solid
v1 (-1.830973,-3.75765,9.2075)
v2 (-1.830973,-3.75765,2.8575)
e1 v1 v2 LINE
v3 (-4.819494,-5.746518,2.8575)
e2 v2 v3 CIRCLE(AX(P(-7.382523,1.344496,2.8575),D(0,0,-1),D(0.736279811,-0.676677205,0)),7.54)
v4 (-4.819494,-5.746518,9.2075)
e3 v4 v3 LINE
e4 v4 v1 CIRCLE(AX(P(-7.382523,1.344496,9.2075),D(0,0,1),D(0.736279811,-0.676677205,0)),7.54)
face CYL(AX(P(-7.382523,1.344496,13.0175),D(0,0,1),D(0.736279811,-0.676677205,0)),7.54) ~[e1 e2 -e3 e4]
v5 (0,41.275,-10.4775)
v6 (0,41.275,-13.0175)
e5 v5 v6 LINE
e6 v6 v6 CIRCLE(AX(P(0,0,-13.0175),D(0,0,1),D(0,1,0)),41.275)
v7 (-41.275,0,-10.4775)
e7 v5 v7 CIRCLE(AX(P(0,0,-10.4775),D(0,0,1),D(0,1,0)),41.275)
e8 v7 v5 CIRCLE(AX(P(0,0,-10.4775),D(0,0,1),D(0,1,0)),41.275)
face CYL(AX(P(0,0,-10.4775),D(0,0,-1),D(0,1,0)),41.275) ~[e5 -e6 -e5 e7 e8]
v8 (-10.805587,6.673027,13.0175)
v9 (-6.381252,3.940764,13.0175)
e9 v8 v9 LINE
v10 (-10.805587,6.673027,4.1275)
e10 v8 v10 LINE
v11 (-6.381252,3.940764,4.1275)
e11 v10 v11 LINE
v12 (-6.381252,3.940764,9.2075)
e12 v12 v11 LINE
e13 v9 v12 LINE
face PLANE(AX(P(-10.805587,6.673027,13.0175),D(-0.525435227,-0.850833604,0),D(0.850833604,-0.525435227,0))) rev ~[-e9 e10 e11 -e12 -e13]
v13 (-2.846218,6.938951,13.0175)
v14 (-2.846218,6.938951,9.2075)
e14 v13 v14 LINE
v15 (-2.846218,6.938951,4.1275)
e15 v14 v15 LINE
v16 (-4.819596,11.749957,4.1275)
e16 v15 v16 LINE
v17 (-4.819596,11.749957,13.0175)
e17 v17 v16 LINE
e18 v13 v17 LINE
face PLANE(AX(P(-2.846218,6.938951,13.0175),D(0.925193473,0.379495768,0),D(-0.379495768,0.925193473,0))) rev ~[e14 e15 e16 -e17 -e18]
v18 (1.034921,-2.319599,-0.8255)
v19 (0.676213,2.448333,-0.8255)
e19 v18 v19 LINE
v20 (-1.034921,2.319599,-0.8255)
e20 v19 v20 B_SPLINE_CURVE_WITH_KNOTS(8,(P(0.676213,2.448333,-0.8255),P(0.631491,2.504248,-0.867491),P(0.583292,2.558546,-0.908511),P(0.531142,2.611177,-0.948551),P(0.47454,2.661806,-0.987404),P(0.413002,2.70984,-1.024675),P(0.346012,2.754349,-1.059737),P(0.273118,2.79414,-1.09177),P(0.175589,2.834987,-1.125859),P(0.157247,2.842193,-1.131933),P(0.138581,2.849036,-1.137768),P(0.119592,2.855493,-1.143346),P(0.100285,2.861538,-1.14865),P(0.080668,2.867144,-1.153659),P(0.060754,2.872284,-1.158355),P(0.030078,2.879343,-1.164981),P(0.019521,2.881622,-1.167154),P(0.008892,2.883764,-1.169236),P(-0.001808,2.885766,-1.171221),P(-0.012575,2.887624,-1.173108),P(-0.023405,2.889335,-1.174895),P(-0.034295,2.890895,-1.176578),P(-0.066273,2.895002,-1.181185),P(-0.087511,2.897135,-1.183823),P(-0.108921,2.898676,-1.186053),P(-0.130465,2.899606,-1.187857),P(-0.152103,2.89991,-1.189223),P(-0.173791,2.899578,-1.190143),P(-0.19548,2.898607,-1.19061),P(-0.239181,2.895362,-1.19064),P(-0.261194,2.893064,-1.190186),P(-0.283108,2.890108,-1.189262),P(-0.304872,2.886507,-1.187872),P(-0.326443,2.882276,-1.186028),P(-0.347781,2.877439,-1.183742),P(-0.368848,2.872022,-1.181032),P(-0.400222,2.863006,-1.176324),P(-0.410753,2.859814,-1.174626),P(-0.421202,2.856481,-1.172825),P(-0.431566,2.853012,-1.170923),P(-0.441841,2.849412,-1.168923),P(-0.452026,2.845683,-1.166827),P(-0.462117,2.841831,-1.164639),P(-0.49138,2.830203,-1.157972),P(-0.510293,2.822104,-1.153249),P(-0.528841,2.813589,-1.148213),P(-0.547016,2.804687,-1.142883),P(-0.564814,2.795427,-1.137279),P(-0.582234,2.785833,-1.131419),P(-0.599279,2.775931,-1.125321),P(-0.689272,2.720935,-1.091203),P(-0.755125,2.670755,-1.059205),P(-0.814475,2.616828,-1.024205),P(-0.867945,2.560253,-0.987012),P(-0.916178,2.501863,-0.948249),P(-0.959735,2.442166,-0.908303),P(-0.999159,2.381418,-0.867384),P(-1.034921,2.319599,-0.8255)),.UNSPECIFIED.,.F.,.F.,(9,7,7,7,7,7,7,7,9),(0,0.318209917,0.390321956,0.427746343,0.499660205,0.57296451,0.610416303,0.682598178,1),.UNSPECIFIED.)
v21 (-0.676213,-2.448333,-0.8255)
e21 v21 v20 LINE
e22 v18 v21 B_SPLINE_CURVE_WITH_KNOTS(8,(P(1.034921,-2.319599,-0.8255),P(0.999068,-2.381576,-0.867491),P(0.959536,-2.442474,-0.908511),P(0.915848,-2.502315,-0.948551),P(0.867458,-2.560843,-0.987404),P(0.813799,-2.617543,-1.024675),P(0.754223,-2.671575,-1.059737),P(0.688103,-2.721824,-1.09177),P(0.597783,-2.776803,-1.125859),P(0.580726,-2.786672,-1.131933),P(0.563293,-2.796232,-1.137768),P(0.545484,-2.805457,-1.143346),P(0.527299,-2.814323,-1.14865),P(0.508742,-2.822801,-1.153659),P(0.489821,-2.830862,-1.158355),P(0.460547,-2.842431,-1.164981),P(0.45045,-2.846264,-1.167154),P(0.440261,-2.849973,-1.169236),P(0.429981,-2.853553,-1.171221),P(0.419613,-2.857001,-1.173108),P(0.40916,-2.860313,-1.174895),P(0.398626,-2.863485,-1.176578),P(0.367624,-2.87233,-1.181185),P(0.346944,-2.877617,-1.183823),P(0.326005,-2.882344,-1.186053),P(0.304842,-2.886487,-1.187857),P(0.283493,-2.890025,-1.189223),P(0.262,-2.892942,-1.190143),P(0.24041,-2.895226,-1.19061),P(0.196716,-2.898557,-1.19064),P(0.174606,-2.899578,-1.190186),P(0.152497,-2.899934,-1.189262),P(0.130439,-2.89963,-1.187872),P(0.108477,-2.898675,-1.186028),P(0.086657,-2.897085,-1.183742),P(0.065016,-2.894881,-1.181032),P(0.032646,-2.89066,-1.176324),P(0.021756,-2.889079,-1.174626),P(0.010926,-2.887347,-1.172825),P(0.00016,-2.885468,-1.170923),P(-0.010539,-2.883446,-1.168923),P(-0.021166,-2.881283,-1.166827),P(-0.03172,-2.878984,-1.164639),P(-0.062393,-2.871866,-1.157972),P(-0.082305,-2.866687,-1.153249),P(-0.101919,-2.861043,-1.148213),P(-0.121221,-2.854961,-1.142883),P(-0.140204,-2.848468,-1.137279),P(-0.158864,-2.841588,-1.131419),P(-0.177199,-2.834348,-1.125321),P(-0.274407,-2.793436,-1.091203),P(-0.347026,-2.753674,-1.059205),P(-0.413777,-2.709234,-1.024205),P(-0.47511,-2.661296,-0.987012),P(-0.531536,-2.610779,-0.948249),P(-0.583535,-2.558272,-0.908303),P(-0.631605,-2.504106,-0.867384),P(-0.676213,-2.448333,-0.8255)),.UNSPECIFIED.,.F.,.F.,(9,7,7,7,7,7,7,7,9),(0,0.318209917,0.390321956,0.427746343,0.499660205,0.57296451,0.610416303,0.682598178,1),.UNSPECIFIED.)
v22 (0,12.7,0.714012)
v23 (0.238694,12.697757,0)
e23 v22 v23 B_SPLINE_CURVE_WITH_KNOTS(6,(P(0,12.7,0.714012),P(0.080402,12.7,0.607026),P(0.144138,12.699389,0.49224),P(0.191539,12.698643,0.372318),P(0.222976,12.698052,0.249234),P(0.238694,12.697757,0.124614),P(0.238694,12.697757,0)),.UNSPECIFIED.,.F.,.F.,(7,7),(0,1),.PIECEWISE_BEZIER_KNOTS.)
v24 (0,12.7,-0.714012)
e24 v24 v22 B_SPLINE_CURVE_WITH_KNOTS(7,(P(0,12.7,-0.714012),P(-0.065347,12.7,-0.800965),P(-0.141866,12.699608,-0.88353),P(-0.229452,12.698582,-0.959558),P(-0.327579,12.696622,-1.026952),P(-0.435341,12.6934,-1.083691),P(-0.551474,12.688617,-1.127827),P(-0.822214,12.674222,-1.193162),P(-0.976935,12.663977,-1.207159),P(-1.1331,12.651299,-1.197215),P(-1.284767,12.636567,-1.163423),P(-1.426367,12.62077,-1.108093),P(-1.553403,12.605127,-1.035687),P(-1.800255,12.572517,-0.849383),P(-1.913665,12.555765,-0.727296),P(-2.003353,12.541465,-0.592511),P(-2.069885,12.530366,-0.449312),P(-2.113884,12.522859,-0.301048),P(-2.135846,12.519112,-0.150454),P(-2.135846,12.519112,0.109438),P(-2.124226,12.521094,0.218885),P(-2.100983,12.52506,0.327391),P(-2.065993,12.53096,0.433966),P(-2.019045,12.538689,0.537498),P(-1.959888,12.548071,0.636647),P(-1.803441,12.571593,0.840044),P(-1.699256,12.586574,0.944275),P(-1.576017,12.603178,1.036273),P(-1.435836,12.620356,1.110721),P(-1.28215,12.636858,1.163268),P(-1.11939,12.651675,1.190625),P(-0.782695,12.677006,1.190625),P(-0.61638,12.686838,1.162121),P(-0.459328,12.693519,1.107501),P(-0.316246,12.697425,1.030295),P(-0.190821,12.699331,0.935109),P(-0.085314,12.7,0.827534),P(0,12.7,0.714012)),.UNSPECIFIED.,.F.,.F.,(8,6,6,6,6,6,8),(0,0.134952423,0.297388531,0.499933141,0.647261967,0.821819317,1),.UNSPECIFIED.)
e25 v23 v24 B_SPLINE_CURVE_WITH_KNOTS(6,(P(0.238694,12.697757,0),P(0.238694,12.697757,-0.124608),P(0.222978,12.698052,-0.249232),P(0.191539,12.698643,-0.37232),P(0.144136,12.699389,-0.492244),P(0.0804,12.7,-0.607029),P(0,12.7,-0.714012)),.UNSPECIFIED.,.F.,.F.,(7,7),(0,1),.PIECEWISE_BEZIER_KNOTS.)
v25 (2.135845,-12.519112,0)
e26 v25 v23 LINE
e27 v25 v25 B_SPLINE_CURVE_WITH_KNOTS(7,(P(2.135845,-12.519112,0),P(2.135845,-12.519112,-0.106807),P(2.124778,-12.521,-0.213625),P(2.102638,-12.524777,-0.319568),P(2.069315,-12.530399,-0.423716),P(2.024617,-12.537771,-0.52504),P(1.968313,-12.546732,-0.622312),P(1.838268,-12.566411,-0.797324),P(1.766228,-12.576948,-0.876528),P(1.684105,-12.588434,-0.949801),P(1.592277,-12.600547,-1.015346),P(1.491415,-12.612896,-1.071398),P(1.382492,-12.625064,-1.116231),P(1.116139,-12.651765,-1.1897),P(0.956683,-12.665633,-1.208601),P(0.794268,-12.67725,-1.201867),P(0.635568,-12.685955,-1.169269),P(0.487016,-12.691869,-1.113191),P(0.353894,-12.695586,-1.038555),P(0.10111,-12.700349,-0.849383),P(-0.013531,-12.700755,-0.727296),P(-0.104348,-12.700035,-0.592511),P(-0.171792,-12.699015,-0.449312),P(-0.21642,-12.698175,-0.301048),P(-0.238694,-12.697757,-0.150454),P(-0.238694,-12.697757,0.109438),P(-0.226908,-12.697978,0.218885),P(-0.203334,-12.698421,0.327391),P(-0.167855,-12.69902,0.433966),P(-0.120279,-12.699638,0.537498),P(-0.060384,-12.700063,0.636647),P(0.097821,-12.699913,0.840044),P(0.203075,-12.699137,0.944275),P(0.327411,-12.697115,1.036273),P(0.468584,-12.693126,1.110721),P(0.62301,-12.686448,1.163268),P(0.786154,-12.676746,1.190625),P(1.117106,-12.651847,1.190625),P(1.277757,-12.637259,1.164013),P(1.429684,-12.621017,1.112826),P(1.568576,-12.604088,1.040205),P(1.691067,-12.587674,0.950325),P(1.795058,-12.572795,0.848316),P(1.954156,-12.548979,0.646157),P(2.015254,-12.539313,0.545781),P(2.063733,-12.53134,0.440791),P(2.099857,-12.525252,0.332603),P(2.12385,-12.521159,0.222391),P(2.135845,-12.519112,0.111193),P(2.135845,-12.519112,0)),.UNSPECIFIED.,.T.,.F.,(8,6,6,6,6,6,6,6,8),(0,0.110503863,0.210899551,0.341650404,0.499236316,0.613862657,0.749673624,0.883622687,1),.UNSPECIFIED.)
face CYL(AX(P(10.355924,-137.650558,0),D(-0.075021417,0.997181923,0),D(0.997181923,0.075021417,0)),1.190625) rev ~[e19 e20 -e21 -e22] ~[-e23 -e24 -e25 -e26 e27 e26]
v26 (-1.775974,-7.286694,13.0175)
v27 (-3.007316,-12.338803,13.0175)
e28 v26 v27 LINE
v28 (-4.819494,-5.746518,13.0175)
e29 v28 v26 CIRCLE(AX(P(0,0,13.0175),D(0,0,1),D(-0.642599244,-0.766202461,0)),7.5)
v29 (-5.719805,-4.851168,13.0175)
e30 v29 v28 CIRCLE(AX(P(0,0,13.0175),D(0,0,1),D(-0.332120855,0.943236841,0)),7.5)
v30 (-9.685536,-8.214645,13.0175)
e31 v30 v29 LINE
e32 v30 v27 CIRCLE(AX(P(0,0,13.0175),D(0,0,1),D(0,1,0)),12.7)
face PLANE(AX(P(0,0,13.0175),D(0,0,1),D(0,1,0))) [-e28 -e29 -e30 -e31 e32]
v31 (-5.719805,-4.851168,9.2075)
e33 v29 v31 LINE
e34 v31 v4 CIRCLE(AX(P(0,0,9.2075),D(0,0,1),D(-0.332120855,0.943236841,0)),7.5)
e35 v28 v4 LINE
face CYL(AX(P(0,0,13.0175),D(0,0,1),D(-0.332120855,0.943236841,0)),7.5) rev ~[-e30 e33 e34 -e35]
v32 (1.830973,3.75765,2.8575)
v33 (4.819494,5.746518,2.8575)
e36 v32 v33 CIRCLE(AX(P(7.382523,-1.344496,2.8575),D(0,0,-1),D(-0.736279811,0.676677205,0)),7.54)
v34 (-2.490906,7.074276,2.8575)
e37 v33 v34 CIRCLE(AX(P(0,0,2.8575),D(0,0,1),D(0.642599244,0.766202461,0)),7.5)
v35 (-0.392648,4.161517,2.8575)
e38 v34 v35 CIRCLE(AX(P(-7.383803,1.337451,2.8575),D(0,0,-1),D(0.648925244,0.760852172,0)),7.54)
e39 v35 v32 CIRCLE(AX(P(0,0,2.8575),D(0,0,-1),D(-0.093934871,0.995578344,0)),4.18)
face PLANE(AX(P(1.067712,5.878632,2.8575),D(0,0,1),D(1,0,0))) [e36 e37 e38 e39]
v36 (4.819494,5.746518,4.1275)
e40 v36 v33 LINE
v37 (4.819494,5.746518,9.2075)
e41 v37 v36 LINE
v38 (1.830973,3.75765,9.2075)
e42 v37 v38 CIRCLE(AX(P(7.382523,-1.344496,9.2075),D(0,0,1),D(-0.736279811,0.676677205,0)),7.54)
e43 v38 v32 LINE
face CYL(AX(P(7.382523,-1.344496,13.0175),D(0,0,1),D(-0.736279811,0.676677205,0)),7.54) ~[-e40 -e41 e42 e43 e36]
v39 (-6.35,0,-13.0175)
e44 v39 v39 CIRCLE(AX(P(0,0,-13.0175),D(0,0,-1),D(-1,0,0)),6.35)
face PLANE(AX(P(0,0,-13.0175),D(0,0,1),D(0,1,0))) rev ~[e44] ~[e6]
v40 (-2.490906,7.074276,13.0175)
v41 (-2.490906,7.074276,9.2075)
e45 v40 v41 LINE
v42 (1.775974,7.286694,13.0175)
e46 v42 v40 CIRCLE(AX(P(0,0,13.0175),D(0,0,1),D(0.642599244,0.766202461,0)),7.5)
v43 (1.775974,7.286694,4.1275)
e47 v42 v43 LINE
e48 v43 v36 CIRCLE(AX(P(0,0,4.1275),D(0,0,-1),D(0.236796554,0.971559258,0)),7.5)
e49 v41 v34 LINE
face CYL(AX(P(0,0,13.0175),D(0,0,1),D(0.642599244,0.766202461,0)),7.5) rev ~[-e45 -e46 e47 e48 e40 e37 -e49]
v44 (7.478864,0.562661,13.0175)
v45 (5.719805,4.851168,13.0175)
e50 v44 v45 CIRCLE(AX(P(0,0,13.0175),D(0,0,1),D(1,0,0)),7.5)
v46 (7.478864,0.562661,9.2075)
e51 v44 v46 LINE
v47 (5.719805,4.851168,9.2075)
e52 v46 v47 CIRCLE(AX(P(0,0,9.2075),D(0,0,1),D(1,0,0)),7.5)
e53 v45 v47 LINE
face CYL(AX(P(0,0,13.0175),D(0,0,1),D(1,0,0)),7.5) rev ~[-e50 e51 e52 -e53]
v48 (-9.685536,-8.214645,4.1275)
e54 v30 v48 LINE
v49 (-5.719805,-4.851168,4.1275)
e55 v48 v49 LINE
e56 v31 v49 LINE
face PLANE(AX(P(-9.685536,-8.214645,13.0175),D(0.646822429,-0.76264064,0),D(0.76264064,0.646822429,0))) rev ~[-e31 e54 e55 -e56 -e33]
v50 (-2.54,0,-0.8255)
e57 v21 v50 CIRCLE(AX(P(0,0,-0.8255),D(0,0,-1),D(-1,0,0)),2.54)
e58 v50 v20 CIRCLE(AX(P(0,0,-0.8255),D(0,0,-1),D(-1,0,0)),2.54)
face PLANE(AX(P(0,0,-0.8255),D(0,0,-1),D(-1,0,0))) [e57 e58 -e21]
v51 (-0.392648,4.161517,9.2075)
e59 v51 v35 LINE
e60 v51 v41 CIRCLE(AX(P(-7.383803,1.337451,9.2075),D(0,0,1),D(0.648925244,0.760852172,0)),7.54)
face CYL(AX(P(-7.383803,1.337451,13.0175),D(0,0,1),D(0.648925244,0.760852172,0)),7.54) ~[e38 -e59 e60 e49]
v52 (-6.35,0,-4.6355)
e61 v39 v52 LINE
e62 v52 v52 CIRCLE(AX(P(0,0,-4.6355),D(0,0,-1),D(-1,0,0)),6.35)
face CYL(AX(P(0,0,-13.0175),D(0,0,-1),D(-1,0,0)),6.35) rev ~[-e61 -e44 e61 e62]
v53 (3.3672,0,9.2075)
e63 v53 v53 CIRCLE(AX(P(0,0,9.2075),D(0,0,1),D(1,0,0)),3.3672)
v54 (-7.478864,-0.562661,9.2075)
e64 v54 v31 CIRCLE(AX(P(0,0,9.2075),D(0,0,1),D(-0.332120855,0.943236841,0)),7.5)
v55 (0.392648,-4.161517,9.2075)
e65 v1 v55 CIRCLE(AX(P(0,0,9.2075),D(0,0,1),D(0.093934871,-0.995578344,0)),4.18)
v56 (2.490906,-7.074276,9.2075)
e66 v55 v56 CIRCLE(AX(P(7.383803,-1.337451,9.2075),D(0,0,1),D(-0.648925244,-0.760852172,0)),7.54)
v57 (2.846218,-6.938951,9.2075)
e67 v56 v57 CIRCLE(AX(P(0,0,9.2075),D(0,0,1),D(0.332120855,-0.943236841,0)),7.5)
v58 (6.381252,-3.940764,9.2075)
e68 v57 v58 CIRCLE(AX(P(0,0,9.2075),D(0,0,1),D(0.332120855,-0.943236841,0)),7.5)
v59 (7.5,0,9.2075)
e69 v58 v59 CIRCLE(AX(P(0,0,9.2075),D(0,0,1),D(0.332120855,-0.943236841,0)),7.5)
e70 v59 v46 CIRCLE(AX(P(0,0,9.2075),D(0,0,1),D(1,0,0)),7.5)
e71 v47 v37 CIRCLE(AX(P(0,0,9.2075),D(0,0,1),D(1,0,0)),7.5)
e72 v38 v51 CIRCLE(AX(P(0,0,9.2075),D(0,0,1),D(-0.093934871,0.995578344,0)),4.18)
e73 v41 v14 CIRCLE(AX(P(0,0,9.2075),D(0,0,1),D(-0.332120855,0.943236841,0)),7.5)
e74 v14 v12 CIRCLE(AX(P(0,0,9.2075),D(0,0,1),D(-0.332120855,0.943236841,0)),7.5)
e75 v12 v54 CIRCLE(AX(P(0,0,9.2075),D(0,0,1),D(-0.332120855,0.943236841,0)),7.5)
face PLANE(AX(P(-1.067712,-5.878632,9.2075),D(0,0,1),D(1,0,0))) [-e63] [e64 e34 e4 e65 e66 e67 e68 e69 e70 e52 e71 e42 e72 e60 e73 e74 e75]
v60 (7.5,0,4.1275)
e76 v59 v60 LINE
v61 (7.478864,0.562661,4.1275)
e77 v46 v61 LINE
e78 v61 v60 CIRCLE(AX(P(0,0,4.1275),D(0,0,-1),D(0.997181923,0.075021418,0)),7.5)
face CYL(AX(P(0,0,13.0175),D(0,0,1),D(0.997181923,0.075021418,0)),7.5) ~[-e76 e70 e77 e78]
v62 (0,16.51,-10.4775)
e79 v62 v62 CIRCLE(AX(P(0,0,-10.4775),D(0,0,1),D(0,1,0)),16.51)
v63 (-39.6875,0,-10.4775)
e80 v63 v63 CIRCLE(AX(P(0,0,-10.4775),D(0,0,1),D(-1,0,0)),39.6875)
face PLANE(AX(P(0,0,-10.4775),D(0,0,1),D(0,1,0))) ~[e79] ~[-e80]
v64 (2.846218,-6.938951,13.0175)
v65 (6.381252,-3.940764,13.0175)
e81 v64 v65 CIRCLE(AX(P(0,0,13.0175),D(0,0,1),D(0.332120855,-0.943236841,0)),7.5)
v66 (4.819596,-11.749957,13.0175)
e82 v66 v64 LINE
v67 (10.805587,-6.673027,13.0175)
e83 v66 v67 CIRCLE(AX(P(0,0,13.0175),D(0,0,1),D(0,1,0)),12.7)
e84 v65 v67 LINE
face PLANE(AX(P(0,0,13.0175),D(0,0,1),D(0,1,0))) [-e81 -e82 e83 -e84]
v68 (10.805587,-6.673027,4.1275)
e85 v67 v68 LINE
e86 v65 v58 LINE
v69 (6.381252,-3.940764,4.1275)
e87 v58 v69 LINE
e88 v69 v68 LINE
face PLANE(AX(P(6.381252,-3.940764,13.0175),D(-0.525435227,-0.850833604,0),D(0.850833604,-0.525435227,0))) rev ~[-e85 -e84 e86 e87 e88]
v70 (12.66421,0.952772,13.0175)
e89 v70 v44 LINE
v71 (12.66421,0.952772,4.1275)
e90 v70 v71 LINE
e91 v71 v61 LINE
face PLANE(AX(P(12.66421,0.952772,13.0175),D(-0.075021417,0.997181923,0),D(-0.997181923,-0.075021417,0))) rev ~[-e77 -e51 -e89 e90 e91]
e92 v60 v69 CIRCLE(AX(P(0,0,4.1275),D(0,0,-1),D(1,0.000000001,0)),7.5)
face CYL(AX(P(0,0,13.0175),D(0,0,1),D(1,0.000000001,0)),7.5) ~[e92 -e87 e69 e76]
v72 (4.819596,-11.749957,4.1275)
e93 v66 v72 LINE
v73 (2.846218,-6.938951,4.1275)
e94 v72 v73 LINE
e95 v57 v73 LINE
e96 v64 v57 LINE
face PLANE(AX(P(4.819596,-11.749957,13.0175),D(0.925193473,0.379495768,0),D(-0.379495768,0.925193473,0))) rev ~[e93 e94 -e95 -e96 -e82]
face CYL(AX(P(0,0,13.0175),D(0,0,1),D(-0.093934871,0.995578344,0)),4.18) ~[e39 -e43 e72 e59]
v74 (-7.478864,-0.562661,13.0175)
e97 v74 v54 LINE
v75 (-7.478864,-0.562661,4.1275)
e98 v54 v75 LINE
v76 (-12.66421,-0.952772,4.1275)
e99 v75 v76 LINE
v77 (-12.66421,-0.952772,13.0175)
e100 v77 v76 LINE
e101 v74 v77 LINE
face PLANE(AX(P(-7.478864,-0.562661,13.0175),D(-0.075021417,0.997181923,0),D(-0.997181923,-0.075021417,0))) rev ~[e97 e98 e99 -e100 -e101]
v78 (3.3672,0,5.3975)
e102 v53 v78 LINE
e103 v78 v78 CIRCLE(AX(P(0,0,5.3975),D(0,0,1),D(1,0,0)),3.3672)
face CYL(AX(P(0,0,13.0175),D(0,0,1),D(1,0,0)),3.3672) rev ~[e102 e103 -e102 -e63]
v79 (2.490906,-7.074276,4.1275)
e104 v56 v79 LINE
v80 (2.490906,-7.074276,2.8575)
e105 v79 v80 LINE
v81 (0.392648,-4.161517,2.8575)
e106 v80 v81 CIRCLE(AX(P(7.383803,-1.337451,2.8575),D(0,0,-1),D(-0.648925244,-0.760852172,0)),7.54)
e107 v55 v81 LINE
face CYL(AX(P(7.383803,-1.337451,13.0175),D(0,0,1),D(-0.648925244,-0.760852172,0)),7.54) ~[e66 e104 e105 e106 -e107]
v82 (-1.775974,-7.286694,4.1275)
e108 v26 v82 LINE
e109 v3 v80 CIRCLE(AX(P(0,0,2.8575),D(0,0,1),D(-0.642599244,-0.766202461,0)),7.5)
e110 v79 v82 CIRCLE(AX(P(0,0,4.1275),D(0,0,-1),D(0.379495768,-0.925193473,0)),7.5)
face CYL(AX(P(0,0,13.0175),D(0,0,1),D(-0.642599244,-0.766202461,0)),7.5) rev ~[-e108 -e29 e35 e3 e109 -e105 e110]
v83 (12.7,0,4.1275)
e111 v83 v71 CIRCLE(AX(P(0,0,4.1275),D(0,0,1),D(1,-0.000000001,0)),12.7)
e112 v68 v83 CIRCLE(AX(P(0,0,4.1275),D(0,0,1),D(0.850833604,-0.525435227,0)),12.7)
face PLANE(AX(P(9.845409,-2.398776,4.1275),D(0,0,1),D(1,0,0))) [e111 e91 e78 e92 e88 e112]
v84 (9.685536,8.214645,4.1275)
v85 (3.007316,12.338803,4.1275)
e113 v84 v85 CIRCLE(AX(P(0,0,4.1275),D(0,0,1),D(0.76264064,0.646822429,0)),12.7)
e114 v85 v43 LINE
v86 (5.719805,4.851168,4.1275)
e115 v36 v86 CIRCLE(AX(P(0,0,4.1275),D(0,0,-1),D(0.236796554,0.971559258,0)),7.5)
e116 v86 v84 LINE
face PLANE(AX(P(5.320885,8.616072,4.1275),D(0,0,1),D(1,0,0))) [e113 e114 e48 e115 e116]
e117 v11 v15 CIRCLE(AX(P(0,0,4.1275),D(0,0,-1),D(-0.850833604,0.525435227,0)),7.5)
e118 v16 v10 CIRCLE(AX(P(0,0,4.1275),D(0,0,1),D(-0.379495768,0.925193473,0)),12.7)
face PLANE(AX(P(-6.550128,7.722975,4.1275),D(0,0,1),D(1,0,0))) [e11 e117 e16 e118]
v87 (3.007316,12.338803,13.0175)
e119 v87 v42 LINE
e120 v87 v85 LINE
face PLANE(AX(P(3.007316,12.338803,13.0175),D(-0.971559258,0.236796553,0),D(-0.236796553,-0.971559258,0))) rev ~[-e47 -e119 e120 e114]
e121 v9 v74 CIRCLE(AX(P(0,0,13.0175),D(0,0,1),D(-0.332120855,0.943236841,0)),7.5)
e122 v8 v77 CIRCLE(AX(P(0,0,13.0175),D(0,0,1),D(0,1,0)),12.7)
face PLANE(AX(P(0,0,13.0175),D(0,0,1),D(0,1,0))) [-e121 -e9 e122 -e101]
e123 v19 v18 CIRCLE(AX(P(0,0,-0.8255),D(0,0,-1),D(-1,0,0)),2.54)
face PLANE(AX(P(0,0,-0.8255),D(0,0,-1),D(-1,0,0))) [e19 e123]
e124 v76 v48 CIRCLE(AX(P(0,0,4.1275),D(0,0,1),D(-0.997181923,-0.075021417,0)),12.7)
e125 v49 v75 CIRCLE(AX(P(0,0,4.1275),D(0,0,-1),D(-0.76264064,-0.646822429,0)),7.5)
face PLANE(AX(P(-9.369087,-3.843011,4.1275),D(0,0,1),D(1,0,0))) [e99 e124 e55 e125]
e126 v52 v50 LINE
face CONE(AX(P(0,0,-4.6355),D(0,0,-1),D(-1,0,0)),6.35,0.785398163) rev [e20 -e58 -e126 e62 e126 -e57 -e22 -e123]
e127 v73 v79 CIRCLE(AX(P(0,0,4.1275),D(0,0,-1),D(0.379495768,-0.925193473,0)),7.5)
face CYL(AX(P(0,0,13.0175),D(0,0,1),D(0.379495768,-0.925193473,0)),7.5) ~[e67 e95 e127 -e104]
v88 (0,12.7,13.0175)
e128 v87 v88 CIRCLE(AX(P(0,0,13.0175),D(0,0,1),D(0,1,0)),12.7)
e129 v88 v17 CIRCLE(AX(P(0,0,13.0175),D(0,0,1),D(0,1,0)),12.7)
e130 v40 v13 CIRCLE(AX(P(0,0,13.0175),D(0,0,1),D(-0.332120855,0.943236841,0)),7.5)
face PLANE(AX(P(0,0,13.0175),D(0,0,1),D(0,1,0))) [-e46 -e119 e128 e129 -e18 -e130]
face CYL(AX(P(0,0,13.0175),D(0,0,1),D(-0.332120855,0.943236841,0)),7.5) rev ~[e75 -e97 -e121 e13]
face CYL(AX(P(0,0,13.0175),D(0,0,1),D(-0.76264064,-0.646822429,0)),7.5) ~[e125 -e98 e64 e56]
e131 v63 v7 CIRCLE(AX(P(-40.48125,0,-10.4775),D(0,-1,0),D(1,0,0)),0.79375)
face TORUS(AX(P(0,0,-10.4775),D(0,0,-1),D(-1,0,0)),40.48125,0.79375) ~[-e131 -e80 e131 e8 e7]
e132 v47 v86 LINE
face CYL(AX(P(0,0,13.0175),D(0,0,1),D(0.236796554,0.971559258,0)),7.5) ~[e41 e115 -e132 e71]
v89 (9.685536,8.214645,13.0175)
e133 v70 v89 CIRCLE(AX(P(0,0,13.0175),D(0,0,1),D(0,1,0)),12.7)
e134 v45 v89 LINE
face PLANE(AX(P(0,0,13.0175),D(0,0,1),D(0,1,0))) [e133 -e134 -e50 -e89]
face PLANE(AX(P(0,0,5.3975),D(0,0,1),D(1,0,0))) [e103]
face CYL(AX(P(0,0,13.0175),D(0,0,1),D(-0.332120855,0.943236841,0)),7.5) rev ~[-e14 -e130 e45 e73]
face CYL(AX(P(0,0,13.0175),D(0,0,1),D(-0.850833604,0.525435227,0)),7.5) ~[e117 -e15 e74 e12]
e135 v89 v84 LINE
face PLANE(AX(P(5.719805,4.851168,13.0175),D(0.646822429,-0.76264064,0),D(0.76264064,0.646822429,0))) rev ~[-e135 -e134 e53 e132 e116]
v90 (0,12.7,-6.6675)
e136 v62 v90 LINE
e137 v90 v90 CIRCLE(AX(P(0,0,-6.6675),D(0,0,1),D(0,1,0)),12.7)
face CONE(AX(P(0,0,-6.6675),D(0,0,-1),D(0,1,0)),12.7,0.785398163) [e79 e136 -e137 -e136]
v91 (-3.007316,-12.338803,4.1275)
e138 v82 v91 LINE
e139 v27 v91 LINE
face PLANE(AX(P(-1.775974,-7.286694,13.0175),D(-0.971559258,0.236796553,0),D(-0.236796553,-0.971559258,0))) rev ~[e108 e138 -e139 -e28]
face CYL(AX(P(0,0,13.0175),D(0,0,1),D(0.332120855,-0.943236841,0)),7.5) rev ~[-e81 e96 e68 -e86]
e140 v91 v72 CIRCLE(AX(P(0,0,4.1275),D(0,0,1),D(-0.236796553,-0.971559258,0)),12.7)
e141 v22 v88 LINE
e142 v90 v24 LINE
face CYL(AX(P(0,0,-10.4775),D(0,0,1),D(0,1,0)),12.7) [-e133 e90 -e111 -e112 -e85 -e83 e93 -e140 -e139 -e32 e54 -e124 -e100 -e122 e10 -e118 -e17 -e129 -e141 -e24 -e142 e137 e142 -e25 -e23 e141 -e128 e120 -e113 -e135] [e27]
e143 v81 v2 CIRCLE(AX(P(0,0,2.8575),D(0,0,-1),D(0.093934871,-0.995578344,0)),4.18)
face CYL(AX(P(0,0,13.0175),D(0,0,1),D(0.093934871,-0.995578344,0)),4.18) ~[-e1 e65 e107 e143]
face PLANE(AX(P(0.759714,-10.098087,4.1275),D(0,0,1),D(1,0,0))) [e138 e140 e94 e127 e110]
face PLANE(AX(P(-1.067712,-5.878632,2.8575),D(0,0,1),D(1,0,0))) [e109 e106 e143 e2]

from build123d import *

# Parameters (mm, degrees)
SKETCH11_R                      = 3.3672
CUT_EXTRUDE5_DEPTH              = 3.81
SKETCH11_5_R                    = 3.3672
CUT_EXTRUDE7_DEPTH              = 7.62
CUT_EXTRUDE8_DEPTH              = 10.16
SKETCH13_R                      = 6.35
CUT_EXTRUDE10_DEPTH             = 12.192
CHAMFER1_SIZE                   = 3.81
CHAMFER2_SIZE                   = 3.81
CUT_EXTRUDE11_DEPTH             = 8.89
F_3_32_0_09375_DIAMETER_HOLE1_D = 2.38125


with BuildPart() as part:
    # Sketch2 → Revolve1 (revolve)
    with BuildSketch(Plane(origin=(0, 0, 0), x_dir=(0, 0, -1), z_dir=(1, 0, 0))):
        Polygon((-13.0175, 0), (-13.0175, 9.525), (-13.0175, 12.7), (-9.8425, 12.7), (10.4775, 12.7), (10.4775, 41.275), (13.0175, 41.275), (13.0175, 0), align=None)
    revolve(axis=Axis((0, 0, -13.0175), (0, 0, 1)))

    # Sketch11 → Cut-Extrude5 (cut)
    with BuildSketch(Plane.XY.offset(13.0175)):
        with BuildLine():
            ThreePointArc((-4.819494332, -5.746518457), (-1.340267005, -7.379273972), (2.490906416, -7.074276304))
            ThreePointArc((2.490906416, -7.074276304), (1.265901972, -5.744591723), (0.392647765, -4.16151748))
            ThreePointArc((0.392647765, -4.16151748), (-0.746975478, -4.11271536), (-1.830973459, -3.757650355))
            ThreePointArc((-1.830973459, -3.757650355), (-3.205144168, -4.932534109), (-4.819494332, -5.746518457))
        make_face()
        with BuildLine():
            ThreePointArc((7.5, 0), (6.796918695, 3.17047256), (4.819494332, 5.746518457))
            ThreePointArc((4.819494332, 5.746518457), (3.205144168, 4.932534109), (1.830973459, 3.757650355))
            ThreePointArc((1.830973459, 3.757650355), (0.746975478, 4.11271536), (-0.392647765, 4.16151748))
            ThreePointArc((-0.392647765, 4.16151748), (-1.265901972, 5.744591723), (-2.490906416, 7.074276304))
            ThreePointArc((-2.490906416, 7.074276304), (-7.379273972, 1.340267005), (-4.819494332, -5.746518457))
            ThreePointArc((-4.819494332, -5.746518457), (-3.205144168, -4.932534109), (-1.830973459, -3.757650355))
            ThreePointArc((-1.830973459, -3.757650355), (-0.746975478, -4.11271536), (0.392647765, -4.16151748))
            ThreePointArc((0.392647765, -4.16151748), (1.265901972, -5.744591723), (2.490906416, -7.074276304))
            ThreePointArc((2.490906416, -7.074276304), (6.120939394, -4.334062868), (7.5, 0))
        make_face()
        Circle(SKETCH11_R, mode=Mode.SUBTRACT)
        Circle(SKETCH11_R)
        with BuildLine():
            ThreePointArc((1.830973459, 3.757650355), (3.205144168, 4.932534109), (4.819494332, 5.746518457))
            ThreePointArc((4.819494332, 5.746518457), (1.340267005, 7.379273972), (-2.490906416, 7.074276304))
            ThreePointArc((-2.490906416, 7.074276304), (-1.265901972, 5.744591723), (-0.392647765, 4.16151748))
            ThreePointArc((-0.392647765, 4.16151748), (0.746975478, 4.11271536), (1.830973459, 3.757650355))
        make_face()
    extrude(amount=-CUT_EXTRUDE5_DEPTH, mode=Mode.SUBTRACT)

    # Sketch11<5> → Cut-Extrude7 (cut)
    with BuildSketch(Plane.XY.offset(13.0175)):
        Circle(SKETCH11_5_R)
    extrude(amount=-CUT_EXTRUDE7_DEPTH, mode=Mode.SUBTRACT)

    # Sketch11<6> → Cut-Extrude8 (cut)
    with BuildSketch(Plane.XY.offset(13.0175)):
        with BuildLine():
            ThreePointArc((-4.819494332, -5.746518457), (-1.340267005, -7.379273972), (2.490906416, -7.074276304))
            ThreePointArc((2.490906416, -7.074276304), (1.265901972, -5.744591723), (0.392647765, -4.16151748))
            ThreePointArc((0.392647765, -4.16151748), (-0.746975478, -4.11271536), (-1.830973459, -3.757650355))
            ThreePointArc((-1.830973459, -3.757650355), (-3.205144168, -4.932534109), (-4.819494332, -5.746518457))
        make_face()
        with BuildLine():
            ThreePointArc((1.830973459, 3.757650355), (3.205144168, 4.932534109), (4.819494332, 5.746518457))
            ThreePointArc((4.819494332, 5.746518457), (1.340267005, 7.379273972), (-2.490906416, 7.074276304))
            ThreePointArc((-2.490906416, 7.074276304), (-1.265901972, 5.744591723), (-0.392647765, 4.16151748))
            ThreePointArc((-0.392647765, 4.16151748), (0.746975478, 4.11271536), (1.830973459, 3.757650355))
        make_face()
    extrude(amount=-CUT_EXTRUDE8_DEPTH, mode=Mode.SUBTRACT)

    # Sketch13 → Cut-Extrude10 (cut)
    with BuildSketch(Plane(origin=(0, 0, -13.0175), x_dir=(-1, 0, 0), z_dir=(0, 0, -1))):
        Circle(SKETCH13_R)
    extrude(amount=-CUT_EXTRUDE10_DEPTH, mode=Mode.SUBTRACT)

    # Chamfer1
    chamfer1_edges = [part.edges().sort_by_distance(p)[0] for p in [
        (6.35, 0, -0.8255),
    ]]
    chamfer(chamfer1_edges, length=CHAMFER1_SIZE)

    # Chamfer2
    chamfer2_edges = [part.edges().sort_by_distance(p)[0] for p in [
        (0, -12.7, -10.4775),
    ]]
    chamfer(chamfer2_edges, length=CHAMFER2_SIZE)

    # Sketch14 → Cut-Extrude11 (cut)
    with BuildSketch(Plane.XY.offset(13.0175)):
        with BuildLine():
            Line((-7.478864421, -0.562660625), (-12.664210419, -0.952771992))
            ThreePointArc((-12.664210419, -0.952771992), (-11.749957105, -4.819596251), (-9.685536123, -8.214644849))
            Line((-9.685536123, -8.214644849), (-5.719804797, -4.851168218))
            ThreePointArc((-5.719804797, -4.851168218), (-6.938951046, -2.846218259), (-7.478864421, -0.562660625))
        make_face()
        with BuildLine():
            ThreePointArc((-4.819596251, 11.749957105), (-8.214644849, 9.685536123), (-10.805586775, 6.673027383))
            Line((-10.805586775, 6.673027383), (-6.381252032, 3.940764202))
            ThreePointArc((-6.381252032, 3.940764202), (-4.851168218, 5.719804797), (-2.846218259, 6.938951046))
            Line((-2.846218259, 6.938951046), (-4.819596251, 11.749957105))
        make_face()
        with BuildLine():
            ThreePointArc((9.685536123, 8.214644849), (6.673027383, 10.805586775), (3.007316228, 12.33880258))
            Line((3.007316228, 12.33880258), (1.775974151, 7.286694437))
            ThreePointArc((1.775974151, 7.286694437), (3.940764202, 6.381252032), (5.719804797, 4.851168218))
            Line((5.719804797, 4.851168218), (9.685536123, 8.214644849))
        make_face()
        with BuildLine():
            Line((6.381252032, -3.940764202), (10.805586775, -6.673027383))
            ThreePointArc((10.805586775, -6.673027383), (12.21722047, -3.468360417), (12.7, 0))
            ThreePointArc((12.7, 0), (12.691049451, 0.476721974), (12.664210419, 0.952771992))
            Line((12.664210419, 0.952771992), (7.478864421, 0.562660625))
            ThreePointArc((7.478864421, 0.562660625), (7.494714243, 0.281528725), (7.5, 0))
            ThreePointArc((7.5, 0), (7.214893979, -2.048244341), (6.381252032, -3.940764202))
        make_face()
        with BuildLine():
            Line((-1.775974151, -7.286694437), (-3.007316228, -12.33880258))
            ThreePointArc((-3.007316228, -12.33880258), (0.952771992, -12.664210419), (4.819596251, -11.749957105))
            Line((4.819596251, -11.749957105), (2.846218259, -6.938951046))
            ThreePointArc((2.846218259, -6.938951046), (0.562660625, -7.478864421), (-1.775974151, -7.286694437))
        make_face()
    extrude(amount=-CUT_EXTRUDE11_DEPTH, mode=Mode.SUBTRACT)

    # 3/32 (0.09375) Diameter Hole1 (through all)
    with Locations(Plane(origin=(1.382526007, -18.376485052, 0), x_dir=(-0.997181923, -0.075021417, 0), z_dir=(0.075021417, -0.997181923, 0))):
        with Locations((0, 0)):
            Hole(F_3_32_0_09375_DIAMETER_HOLE1_D / 2)

    # Sketch17 → Revolve2 (revolve)
    with BuildSketch(Plane(origin=(0, 0, 0), x_dir=(1, 0, 0), z_dir=(0, 1, 0))):
        with BuildLine():
            Line((-41.275, 10.4775), (-39.6875, 10.4775))
            ThreePointArc((-39.6875, 10.4775), (-40.48125, 9.68375), (-41.275, 10.4775))
        make_face()
    revolve(axis=Axis((0, 0, -15.01775), (0, 0, 1)))


solid = part.part
